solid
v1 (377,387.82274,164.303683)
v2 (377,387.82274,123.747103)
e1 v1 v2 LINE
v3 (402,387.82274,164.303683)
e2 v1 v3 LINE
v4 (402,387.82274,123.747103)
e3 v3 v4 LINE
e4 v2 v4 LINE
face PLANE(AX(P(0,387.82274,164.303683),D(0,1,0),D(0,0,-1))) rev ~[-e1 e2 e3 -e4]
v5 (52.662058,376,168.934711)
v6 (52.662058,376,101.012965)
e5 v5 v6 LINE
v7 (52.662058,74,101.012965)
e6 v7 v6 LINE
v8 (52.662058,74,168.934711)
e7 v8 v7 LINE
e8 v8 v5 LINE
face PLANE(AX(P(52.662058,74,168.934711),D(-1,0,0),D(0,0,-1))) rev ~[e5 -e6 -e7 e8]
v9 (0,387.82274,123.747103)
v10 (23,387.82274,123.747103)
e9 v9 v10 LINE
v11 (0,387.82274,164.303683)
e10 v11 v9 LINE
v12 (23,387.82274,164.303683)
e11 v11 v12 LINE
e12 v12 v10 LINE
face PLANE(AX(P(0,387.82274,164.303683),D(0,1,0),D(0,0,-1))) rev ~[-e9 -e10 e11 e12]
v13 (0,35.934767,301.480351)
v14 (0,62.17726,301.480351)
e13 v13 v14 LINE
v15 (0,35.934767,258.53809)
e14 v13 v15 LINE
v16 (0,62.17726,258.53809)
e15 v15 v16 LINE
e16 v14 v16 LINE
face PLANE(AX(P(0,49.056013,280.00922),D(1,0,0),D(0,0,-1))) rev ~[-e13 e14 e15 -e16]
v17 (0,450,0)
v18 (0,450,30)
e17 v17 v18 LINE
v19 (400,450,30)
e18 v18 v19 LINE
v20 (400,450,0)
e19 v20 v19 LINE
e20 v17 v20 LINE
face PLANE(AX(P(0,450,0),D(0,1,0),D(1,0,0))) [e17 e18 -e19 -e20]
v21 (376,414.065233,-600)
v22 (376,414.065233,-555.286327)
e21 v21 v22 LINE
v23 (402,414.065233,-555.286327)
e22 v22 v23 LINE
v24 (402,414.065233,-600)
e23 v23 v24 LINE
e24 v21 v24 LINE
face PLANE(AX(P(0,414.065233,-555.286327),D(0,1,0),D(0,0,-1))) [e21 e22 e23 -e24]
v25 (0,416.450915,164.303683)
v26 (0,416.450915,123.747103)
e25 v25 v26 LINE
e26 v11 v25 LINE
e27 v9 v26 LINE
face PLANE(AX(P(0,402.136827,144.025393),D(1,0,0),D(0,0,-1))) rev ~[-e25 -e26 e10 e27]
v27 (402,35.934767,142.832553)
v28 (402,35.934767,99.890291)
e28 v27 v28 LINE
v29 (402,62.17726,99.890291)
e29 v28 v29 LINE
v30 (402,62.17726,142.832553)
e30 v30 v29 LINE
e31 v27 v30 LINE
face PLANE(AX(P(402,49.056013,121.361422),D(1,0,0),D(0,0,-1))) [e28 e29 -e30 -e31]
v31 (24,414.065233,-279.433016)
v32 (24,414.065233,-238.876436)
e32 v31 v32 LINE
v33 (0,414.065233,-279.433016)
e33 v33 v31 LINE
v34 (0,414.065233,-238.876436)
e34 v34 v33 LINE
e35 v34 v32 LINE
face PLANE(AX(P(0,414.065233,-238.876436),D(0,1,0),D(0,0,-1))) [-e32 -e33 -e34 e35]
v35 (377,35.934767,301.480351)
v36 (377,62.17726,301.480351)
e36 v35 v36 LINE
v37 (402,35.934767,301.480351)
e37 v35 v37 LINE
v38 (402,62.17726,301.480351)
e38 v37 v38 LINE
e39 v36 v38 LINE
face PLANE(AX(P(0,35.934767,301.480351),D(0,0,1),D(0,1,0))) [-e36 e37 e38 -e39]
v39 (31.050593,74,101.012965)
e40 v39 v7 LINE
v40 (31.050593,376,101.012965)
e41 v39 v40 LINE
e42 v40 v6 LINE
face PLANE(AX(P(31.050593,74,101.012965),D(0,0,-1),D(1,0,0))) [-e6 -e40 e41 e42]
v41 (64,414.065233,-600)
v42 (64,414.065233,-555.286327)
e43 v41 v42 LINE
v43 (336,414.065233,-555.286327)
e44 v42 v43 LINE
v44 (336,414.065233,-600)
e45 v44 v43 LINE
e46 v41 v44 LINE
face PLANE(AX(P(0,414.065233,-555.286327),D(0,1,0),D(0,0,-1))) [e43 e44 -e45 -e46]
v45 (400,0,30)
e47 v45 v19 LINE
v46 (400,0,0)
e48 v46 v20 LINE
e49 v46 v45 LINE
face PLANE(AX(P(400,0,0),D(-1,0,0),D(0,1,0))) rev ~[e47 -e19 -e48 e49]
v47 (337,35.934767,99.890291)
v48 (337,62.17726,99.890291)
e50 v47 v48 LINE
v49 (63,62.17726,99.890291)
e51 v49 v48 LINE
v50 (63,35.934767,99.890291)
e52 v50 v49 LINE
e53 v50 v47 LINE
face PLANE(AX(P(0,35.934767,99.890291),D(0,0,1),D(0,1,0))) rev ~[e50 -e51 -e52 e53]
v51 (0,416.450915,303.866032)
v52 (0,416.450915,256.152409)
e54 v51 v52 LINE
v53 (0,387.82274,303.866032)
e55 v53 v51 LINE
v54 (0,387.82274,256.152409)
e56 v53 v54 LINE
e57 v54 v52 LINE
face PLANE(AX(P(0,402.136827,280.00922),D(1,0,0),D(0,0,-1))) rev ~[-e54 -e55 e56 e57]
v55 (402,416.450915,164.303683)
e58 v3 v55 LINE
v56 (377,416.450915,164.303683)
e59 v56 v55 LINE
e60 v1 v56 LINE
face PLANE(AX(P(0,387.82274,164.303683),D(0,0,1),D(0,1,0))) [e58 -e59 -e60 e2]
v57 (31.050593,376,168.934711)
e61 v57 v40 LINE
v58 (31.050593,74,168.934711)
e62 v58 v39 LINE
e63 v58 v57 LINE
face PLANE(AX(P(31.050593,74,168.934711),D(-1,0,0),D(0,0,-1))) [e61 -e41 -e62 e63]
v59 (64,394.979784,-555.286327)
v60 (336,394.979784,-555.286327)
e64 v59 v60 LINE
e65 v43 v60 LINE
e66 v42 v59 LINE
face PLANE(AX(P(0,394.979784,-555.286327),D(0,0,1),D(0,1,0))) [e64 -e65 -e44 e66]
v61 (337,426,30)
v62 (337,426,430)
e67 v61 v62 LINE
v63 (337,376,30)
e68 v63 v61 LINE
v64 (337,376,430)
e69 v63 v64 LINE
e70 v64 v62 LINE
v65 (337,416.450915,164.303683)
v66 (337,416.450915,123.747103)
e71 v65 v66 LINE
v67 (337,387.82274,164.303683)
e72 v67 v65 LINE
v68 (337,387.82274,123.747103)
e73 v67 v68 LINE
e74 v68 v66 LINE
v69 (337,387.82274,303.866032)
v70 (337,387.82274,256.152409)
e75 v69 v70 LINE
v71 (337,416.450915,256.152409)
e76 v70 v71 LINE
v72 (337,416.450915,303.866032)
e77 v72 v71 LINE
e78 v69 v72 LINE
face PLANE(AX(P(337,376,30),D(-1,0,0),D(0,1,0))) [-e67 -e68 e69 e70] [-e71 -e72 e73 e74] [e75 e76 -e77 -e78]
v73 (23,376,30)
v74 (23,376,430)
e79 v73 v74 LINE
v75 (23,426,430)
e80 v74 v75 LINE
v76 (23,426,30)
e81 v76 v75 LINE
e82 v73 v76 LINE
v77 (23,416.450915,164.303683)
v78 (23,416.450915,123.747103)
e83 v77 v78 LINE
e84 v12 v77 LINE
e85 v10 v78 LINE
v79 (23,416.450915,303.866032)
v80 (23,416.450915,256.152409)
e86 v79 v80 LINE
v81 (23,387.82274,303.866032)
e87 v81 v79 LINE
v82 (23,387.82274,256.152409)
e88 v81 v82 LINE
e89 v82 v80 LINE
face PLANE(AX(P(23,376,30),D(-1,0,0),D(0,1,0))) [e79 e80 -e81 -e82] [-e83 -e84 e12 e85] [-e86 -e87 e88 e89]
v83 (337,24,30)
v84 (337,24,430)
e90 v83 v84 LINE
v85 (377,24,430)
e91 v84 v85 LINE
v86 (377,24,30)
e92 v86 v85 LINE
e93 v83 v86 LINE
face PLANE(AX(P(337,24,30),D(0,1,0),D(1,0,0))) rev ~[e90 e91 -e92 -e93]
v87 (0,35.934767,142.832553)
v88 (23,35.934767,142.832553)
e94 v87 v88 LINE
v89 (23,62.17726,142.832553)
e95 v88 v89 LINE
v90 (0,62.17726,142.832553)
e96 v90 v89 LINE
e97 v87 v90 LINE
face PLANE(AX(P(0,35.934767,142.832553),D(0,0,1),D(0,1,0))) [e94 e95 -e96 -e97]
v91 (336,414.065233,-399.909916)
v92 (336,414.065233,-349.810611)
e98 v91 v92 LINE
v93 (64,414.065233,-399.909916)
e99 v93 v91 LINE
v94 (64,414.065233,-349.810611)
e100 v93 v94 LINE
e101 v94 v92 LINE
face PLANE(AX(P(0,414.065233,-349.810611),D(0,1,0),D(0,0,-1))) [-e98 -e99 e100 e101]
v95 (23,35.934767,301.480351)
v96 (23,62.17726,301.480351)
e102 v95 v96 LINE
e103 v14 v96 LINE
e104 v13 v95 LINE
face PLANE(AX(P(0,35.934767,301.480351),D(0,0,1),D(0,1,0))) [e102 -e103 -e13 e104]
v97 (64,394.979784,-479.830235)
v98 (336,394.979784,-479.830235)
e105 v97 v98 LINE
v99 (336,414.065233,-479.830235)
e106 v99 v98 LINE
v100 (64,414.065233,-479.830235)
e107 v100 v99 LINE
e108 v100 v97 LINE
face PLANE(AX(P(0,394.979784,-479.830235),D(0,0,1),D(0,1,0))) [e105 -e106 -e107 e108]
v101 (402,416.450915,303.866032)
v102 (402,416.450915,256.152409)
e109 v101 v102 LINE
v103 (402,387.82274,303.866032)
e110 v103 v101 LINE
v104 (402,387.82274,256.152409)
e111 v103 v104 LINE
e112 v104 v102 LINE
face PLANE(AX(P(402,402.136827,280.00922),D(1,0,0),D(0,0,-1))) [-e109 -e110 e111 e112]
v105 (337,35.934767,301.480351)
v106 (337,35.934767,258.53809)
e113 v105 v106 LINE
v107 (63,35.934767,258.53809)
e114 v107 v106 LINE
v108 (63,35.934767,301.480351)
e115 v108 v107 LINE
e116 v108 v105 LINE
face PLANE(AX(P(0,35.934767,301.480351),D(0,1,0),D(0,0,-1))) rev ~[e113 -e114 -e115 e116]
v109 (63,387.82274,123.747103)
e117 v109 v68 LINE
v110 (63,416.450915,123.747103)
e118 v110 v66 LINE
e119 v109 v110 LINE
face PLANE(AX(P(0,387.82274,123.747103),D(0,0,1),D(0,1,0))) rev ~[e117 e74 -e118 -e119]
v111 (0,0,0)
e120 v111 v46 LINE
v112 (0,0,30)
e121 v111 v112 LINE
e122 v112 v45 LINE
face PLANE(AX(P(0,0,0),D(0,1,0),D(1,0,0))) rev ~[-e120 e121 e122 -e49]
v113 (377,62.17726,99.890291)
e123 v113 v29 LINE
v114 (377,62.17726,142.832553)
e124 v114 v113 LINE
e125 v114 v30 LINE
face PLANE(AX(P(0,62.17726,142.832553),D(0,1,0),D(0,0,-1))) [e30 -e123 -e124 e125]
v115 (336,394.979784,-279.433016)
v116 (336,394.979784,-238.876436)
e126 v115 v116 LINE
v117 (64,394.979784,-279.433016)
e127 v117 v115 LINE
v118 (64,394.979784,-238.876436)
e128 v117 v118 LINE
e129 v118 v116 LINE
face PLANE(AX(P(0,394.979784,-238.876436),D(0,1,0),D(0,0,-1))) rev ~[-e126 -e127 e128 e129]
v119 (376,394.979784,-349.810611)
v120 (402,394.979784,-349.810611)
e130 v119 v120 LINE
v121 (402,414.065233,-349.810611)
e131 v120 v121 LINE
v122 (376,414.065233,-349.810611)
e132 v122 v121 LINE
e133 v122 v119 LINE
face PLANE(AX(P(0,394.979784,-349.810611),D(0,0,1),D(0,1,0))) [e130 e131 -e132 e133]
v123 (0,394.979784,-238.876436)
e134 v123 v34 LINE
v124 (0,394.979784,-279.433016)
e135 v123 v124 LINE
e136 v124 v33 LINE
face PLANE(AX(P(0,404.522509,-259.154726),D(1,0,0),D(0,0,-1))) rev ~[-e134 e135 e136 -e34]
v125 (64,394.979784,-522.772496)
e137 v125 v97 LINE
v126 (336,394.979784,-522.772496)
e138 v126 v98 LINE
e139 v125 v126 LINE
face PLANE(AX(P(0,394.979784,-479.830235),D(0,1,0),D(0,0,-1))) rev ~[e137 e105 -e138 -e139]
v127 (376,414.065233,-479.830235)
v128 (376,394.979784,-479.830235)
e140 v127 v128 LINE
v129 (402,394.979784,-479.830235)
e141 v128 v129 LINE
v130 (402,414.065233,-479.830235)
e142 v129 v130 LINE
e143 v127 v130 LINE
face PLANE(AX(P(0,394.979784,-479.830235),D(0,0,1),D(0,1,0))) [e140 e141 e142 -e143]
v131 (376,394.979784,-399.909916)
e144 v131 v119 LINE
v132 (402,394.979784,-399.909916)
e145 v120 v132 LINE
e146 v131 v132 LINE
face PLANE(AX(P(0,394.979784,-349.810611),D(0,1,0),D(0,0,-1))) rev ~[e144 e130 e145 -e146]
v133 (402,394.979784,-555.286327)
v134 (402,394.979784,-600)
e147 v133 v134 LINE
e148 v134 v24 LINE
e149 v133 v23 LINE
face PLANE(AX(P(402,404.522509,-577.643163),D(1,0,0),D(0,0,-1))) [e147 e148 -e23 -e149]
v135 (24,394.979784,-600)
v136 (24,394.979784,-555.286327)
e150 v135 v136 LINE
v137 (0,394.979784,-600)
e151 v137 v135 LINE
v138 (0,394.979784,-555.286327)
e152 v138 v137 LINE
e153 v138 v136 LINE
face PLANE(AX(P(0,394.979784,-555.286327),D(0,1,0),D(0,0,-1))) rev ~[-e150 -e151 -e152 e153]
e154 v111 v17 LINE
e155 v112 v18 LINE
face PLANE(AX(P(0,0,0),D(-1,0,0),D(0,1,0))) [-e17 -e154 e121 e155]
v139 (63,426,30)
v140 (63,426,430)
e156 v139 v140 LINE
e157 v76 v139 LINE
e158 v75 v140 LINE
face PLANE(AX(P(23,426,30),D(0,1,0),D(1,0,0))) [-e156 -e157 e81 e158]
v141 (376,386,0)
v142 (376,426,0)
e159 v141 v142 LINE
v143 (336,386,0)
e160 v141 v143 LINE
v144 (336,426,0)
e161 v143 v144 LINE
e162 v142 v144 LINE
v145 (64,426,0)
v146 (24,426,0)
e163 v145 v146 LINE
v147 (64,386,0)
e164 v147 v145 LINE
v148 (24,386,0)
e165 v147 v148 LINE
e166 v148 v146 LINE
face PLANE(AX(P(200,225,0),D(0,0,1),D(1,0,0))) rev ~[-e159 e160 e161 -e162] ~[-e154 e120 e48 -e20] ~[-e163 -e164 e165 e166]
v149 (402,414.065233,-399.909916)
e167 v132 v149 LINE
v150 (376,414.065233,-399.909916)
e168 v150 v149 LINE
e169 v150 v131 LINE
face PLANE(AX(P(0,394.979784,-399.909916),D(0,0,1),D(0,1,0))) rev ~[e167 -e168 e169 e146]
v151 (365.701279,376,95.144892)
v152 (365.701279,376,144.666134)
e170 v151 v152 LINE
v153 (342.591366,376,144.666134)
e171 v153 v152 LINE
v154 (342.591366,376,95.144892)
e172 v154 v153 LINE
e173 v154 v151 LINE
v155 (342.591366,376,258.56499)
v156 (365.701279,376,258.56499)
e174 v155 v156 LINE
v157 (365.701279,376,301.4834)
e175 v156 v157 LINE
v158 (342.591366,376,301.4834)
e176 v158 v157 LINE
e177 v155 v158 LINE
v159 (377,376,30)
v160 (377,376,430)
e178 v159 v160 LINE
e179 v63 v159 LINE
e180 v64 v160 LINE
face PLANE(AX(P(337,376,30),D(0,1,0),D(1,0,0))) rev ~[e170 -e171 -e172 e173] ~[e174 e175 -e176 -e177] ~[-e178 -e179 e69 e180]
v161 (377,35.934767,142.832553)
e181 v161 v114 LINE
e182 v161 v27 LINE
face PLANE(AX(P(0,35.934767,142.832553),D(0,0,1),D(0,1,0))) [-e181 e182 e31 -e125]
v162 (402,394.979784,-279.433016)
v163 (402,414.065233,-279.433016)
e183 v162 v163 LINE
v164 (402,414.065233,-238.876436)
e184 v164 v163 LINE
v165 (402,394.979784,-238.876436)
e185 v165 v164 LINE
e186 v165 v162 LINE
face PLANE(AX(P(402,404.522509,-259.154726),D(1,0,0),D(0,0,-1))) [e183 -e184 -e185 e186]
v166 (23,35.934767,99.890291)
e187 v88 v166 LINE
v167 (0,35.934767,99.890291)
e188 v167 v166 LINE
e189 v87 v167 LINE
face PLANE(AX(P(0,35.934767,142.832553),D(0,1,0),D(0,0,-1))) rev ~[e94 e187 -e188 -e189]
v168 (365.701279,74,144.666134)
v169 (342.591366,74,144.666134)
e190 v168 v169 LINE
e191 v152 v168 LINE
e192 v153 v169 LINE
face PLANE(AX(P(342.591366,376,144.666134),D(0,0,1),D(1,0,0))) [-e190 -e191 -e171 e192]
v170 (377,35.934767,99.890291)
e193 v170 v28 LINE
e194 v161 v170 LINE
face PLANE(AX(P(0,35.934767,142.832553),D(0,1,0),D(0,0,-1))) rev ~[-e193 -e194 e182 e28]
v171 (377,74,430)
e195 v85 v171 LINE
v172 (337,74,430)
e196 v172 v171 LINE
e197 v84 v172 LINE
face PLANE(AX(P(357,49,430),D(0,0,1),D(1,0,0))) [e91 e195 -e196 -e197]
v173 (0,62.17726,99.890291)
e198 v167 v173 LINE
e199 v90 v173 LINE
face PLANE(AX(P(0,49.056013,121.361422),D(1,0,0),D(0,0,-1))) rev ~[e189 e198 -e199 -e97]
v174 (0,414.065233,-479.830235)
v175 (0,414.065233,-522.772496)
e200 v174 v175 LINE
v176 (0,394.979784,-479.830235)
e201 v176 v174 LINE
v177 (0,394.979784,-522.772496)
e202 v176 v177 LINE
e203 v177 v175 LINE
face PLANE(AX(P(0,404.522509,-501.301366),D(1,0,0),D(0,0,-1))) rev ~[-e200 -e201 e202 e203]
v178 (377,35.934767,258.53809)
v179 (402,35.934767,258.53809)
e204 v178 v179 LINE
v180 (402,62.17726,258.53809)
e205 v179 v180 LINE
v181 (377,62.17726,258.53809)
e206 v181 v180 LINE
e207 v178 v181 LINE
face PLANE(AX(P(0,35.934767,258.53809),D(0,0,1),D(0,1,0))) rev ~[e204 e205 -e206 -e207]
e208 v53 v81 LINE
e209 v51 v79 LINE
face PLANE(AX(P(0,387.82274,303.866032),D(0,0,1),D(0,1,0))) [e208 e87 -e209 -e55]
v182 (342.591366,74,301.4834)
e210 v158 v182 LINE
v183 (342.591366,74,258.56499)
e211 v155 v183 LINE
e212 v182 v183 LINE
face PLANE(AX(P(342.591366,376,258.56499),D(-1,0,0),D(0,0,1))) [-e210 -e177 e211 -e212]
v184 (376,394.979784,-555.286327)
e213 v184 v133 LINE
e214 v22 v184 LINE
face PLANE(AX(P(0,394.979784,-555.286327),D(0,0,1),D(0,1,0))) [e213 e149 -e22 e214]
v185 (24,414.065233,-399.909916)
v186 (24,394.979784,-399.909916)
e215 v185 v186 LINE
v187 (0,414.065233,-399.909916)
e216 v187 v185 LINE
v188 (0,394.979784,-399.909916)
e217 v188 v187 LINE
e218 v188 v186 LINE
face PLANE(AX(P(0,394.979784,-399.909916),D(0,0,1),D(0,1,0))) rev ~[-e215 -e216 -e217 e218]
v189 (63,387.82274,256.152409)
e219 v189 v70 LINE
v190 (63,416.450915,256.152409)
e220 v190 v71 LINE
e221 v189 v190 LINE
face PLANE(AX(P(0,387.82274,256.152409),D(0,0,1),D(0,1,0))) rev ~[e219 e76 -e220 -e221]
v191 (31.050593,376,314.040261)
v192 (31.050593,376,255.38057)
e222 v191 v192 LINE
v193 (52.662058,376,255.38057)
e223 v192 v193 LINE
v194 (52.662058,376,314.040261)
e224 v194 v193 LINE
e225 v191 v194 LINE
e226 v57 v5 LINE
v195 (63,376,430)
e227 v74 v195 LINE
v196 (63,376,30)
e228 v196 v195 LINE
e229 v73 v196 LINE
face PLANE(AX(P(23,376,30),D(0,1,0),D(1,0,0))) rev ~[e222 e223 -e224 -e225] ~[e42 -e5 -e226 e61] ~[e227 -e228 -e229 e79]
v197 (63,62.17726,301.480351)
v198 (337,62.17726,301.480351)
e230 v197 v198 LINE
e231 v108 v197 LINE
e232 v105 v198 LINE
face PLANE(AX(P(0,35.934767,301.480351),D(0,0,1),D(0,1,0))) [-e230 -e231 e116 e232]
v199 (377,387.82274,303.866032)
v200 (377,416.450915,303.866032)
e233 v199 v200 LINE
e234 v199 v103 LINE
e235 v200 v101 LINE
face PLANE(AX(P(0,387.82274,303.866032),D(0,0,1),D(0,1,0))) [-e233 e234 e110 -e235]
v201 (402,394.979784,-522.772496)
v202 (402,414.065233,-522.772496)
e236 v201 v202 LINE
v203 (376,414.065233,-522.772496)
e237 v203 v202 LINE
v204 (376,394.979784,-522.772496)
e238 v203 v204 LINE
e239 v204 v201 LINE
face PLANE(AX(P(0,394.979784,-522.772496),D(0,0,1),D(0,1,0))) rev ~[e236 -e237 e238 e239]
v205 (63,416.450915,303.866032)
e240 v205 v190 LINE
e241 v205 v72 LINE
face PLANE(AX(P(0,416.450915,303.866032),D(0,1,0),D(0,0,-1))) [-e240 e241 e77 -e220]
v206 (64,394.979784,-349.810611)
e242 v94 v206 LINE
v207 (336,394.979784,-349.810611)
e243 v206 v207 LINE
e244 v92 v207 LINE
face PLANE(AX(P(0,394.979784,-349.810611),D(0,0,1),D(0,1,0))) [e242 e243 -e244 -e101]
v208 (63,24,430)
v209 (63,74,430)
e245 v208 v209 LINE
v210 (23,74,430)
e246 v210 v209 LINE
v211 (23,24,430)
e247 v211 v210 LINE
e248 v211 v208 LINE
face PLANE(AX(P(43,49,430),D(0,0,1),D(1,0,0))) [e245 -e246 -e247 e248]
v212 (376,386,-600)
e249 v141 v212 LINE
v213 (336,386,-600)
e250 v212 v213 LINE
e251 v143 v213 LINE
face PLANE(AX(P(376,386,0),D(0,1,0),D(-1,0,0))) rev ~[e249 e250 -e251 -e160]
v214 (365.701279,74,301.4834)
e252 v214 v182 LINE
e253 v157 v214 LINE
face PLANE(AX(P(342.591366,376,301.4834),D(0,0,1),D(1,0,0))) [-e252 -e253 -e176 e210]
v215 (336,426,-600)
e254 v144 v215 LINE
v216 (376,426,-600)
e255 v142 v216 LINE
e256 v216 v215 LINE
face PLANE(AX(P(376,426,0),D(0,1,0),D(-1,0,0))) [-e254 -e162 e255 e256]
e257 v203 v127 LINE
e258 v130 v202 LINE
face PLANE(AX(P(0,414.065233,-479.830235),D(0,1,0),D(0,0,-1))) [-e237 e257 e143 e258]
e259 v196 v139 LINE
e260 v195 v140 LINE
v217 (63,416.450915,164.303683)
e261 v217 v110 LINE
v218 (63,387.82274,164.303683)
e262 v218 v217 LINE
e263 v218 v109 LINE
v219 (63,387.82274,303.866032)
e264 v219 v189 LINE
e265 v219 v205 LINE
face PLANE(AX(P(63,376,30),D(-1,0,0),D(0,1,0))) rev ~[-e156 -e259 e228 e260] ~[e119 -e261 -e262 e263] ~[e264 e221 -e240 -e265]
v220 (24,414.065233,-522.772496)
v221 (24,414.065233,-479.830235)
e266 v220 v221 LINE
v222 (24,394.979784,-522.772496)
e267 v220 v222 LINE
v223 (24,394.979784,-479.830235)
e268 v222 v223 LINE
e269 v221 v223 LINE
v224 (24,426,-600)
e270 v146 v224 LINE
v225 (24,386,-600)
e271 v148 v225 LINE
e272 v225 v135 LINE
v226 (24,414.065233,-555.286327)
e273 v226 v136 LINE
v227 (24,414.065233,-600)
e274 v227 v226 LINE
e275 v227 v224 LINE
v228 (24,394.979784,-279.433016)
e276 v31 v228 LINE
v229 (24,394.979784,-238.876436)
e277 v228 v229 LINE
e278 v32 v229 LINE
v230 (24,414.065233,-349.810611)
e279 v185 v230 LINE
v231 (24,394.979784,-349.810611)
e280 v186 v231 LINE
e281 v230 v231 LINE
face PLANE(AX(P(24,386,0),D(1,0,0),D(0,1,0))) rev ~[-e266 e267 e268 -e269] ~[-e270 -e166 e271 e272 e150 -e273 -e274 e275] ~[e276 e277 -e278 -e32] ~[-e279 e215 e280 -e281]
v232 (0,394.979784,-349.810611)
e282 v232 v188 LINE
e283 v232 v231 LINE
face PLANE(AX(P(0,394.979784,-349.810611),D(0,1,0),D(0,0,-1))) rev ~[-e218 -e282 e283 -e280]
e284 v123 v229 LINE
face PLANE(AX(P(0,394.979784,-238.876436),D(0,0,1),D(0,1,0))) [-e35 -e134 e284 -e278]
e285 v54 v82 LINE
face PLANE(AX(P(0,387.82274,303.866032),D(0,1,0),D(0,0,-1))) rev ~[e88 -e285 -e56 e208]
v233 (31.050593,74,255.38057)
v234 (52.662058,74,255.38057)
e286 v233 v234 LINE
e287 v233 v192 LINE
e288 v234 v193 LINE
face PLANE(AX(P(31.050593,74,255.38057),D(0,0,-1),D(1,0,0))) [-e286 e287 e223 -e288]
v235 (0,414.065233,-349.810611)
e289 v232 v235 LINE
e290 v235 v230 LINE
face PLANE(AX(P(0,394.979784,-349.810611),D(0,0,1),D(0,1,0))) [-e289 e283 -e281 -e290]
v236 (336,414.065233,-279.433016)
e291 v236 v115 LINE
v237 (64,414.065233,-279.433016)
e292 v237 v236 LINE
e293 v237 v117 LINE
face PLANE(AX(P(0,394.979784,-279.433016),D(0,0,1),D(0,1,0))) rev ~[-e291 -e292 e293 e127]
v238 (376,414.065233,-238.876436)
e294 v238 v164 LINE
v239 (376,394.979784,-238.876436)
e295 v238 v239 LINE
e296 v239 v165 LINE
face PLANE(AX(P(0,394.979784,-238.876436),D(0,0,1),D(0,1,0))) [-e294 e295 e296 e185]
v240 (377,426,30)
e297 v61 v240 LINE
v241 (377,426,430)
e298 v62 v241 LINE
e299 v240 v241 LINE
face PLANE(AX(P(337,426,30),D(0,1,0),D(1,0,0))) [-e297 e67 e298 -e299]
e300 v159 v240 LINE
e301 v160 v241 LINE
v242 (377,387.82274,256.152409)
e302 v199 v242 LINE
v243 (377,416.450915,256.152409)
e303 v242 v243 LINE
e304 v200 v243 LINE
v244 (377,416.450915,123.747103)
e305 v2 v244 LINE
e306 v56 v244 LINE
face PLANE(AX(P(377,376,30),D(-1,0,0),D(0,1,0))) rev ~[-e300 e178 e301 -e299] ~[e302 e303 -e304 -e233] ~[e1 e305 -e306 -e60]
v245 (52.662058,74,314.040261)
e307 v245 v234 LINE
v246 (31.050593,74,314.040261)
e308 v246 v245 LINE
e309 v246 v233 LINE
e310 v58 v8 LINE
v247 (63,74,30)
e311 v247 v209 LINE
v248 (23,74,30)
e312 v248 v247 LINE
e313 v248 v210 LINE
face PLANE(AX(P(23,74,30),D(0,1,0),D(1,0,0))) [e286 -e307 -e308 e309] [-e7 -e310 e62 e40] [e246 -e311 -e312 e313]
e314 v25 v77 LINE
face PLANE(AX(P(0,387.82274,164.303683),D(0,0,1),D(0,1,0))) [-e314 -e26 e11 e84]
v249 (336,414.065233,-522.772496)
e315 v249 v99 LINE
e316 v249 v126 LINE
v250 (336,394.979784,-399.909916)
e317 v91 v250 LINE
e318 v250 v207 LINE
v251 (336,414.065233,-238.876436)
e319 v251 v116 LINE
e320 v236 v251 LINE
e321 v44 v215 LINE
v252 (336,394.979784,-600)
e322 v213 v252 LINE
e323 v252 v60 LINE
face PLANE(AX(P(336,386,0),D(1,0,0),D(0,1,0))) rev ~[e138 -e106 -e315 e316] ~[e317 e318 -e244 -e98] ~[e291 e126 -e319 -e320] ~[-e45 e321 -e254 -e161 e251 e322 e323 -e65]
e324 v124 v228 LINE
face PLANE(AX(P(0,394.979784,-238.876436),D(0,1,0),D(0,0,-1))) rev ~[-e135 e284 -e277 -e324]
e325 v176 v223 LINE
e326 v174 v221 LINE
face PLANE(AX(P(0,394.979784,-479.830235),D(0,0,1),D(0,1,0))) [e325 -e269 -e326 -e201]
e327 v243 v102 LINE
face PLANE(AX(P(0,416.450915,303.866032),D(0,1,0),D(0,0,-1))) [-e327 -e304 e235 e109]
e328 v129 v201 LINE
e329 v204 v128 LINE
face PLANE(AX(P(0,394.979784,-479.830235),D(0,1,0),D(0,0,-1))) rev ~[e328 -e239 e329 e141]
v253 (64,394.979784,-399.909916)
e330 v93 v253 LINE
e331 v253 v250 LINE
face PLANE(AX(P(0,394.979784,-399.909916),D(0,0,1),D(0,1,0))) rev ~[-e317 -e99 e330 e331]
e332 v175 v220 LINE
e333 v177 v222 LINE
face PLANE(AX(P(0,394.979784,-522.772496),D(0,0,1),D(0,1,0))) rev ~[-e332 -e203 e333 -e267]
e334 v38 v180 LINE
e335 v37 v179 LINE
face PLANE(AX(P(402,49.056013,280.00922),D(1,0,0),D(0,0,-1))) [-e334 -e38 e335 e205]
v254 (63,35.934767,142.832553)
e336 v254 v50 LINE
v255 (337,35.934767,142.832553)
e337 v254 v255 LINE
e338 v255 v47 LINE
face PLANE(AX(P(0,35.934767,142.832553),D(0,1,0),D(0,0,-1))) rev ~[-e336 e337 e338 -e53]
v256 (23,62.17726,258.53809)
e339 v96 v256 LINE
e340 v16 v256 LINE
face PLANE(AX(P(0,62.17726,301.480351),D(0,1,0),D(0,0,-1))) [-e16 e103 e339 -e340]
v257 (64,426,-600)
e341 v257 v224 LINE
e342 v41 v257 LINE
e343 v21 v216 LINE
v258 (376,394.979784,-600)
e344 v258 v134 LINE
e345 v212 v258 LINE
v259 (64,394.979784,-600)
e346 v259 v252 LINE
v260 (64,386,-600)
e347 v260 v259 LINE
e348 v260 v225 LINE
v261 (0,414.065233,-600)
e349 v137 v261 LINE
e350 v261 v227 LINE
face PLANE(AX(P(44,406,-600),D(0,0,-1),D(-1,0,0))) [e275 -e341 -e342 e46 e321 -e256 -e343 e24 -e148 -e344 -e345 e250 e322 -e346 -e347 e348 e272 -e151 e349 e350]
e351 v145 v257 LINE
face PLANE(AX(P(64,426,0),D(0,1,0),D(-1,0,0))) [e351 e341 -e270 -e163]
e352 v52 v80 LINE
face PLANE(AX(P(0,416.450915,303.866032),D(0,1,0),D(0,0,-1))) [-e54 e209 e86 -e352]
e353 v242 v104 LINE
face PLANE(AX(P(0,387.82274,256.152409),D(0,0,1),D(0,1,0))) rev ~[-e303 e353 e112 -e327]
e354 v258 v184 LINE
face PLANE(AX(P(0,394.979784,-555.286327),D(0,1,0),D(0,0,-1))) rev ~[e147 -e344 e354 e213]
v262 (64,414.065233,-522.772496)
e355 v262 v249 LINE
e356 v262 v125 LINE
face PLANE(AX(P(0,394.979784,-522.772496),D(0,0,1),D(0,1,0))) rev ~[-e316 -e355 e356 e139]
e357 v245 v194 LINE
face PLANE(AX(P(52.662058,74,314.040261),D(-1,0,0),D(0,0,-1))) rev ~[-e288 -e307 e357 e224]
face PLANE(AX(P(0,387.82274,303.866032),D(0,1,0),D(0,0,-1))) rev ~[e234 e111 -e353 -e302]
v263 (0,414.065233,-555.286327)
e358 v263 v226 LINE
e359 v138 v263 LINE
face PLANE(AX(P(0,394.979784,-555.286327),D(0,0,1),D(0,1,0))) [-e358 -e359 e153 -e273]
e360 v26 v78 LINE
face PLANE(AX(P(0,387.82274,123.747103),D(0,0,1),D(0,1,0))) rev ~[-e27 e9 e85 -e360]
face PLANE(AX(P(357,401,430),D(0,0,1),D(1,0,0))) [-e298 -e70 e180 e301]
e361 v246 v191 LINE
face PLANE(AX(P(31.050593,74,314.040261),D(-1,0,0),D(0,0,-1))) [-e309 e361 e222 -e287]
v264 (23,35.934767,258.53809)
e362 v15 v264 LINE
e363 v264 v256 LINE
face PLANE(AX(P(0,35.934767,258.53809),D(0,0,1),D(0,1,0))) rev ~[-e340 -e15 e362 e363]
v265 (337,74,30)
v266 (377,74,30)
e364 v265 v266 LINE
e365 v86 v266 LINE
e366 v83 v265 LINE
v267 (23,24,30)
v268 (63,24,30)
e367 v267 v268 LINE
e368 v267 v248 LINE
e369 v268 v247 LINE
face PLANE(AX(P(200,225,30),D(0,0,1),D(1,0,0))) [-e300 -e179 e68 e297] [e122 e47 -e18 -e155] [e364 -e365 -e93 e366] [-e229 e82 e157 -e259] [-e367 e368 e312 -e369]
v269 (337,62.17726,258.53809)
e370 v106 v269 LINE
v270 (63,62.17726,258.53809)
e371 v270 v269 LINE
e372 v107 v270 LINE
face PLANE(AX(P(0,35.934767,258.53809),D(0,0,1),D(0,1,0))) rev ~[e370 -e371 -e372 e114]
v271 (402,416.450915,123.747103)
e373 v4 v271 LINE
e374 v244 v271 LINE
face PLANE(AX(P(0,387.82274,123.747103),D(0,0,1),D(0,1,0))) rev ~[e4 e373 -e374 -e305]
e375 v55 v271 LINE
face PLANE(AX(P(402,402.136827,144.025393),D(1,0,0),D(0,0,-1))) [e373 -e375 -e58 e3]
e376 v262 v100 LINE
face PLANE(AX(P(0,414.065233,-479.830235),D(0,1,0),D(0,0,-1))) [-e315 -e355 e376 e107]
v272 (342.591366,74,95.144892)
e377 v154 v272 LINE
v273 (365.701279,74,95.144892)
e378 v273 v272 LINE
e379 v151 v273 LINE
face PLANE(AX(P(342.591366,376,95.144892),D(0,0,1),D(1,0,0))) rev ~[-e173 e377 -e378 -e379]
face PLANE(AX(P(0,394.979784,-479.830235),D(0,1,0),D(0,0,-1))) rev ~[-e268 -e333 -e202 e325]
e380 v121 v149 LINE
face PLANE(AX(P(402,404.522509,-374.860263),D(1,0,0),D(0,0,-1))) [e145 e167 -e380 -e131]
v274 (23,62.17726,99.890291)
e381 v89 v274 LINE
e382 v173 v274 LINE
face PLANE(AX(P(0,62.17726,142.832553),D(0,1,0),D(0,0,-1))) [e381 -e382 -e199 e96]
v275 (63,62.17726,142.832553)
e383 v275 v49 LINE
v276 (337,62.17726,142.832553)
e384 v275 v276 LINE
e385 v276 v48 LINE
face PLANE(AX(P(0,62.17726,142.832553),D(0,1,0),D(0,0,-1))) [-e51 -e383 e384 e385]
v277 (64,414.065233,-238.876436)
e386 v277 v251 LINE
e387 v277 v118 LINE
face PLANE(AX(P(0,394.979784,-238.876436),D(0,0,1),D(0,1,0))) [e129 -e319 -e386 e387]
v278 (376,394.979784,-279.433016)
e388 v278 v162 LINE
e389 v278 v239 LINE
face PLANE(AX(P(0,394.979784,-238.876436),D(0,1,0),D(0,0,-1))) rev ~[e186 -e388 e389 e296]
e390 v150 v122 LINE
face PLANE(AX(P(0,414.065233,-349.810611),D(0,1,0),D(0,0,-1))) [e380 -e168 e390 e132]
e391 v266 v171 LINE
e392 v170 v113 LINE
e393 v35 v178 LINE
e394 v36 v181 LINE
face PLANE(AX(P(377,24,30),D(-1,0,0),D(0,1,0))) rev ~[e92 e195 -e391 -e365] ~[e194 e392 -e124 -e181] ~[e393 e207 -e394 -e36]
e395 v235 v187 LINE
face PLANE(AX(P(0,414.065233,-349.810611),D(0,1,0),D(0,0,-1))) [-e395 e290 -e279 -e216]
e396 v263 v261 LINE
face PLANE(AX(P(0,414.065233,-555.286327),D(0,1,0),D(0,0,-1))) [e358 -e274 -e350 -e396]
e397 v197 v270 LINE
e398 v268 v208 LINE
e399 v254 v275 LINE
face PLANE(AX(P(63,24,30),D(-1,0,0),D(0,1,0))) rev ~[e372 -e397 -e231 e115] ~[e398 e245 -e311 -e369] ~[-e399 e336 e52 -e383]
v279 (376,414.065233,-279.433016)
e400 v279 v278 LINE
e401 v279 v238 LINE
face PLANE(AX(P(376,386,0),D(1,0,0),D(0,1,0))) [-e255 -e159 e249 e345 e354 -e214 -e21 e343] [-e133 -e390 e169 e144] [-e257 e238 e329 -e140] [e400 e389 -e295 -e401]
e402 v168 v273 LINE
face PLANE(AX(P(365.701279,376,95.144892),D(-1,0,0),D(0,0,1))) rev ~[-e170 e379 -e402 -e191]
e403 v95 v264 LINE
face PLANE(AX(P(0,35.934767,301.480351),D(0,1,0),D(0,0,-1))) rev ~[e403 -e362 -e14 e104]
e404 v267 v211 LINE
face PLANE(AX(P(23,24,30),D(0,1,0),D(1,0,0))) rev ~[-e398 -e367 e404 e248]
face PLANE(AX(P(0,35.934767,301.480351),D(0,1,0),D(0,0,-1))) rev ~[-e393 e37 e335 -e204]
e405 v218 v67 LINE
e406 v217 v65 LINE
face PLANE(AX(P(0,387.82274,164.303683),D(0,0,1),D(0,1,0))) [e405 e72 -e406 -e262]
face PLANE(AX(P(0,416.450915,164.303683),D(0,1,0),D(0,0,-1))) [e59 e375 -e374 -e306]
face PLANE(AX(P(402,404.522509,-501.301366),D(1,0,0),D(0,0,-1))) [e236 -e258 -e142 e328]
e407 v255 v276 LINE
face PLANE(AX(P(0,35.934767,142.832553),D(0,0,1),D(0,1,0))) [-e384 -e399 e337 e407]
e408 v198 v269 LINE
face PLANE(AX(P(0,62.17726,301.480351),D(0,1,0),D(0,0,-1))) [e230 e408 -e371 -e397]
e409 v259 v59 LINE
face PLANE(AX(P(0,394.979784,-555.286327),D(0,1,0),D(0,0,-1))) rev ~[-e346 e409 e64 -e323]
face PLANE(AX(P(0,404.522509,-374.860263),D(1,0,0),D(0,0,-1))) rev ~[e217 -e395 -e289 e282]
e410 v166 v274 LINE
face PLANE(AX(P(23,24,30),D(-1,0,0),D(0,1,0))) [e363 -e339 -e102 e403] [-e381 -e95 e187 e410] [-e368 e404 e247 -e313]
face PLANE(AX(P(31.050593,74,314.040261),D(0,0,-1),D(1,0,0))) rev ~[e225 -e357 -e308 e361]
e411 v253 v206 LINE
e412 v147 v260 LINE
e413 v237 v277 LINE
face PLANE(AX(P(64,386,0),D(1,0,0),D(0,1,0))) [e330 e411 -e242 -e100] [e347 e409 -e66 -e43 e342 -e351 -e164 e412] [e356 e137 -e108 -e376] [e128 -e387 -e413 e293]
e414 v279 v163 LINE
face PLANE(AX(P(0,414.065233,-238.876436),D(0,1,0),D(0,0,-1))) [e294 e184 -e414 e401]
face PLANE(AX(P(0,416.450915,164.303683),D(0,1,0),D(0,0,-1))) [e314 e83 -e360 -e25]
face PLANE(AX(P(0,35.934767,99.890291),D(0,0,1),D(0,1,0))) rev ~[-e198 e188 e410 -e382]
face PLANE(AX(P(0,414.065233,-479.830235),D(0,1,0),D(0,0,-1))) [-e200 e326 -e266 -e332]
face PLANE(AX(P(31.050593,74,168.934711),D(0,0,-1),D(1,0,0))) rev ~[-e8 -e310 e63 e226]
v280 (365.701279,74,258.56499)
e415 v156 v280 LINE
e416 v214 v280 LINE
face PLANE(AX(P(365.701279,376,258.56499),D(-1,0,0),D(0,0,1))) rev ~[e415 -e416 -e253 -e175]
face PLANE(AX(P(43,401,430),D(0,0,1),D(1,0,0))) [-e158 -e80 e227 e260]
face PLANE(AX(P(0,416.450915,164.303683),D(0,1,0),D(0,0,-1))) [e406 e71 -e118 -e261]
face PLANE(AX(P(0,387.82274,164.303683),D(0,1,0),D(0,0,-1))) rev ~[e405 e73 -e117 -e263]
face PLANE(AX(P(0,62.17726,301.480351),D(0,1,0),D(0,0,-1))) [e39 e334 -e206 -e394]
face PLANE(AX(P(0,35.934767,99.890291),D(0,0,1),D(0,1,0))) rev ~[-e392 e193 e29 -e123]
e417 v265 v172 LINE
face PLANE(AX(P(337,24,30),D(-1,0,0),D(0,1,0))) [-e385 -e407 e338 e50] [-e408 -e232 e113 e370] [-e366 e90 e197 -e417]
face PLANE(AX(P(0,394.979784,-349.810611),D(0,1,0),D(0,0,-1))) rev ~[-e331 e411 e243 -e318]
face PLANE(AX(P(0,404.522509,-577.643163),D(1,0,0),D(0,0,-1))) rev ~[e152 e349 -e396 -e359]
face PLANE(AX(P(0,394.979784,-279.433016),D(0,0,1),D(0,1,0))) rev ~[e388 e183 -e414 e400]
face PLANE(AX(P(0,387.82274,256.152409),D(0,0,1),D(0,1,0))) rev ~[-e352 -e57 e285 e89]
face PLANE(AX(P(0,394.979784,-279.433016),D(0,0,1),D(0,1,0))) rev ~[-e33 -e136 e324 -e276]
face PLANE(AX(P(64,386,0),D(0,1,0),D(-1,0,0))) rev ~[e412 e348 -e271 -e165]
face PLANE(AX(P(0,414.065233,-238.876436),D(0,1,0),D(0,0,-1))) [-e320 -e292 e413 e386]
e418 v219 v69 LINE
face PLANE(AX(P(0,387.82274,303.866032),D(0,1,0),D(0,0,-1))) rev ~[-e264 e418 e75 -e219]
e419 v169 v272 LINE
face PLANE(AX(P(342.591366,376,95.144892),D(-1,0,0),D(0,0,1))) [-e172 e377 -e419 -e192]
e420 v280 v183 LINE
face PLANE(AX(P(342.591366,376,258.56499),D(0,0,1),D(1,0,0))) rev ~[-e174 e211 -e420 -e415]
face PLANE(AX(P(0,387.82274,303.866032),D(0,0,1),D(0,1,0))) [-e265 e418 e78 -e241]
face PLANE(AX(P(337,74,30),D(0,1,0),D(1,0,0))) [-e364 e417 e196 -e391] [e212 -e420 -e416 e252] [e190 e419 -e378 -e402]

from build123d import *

# Parameters (mm, degrees)
SKETCH2_W                       = 400
SKETCH2_H                       = 450
BOSS_EXTRUDE1_DEPTH             = 30
SKETCH3_W                       = 40
SKETCH3_H                       = 50
BOSS_EXTRUDE2_DEPTH             = 400
SKETCH4_W                       = 40
SKETCH4_H                       = 40
BOSS_EXTRUDE3_DEPTH             = 600
SKETCH5_W                       = 40.556580032
SKETCH5_H                       = 28.62817414
SKETCH5_W_2                     = 47.713623567
BOSS_EXTRUDE4_DEPTH             = 402
SKETCH6_W                       = 42.94226121
SKETCH6_H                       = 26.242492962
SKETCH6_W_2                     = 42.942261211
BOSS_EXTRUDE5_DEPTH             = 402
SKETCH7_W                       = 40.556580032
SKETCH7_H                       = 19.085449427
SKETCH7_W_2                     = 50.099304746
SKETCH7_W_3                     = 42.94226121
SKETCH7_W_4                     = 44.71367334
BOSS_EXTRUDE6_DEPTH             = 402
BOSS_EXTRUDE7_REACH             = 816.236
SKETCH8_W                       = 21.611464792
SKETCH8_H                       = 67.92174649
SKETCH8_H_2                     = 58.65969015
BOSS_EXTRUDE7_DIRECTION_2_DEPTH = 2
BOSS_EXTRUDE8_REACH             = 816.236
SKETCH9_W                       = 23.109912939
SKETCH9_H                       = 42.918409744
SKETCH9_H_2                     = 49.521242012


with BuildPart() as part:
    # Sketch2 → Boss-Extrude1 (new body)
    with BuildSketch(Plane.XY):
        with Locations((200, 225)):
            Rectangle(SKETCH2_W, SKETCH2_H)
    extrude(amount=BOSS_EXTRUDE1_DEPTH)

    # Sketch3 → Boss-Extrude2 (add)
    with BuildSketch(Plane.XY.offset(30)):
        with Locations((43, 401)):
            Rectangle(SKETCH3_W, SKETCH3_H)
        with Locations((357, 401)):
            Rectangle(SKETCH3_W, SKETCH3_H)
        with Locations((357, 49)):
            Rectangle(SKETCH3_W, SKETCH3_H)
        with Locations((43, 49)):
            Rectangle(SKETCH3_W, SKETCH3_H)
    extrude(amount=BOSS_EXTRUDE2_DEPTH)

    # Sketch4 → Boss-Extrude3 (add)
    with BuildSketch(Plane(origin=(0, 0, 0), x_dir=(-1, 0, 0), z_dir=(0, 0, -1))):
        with Locations((-356, 406)):
            Rectangle(SKETCH4_W, SKETCH4_H)
        with Locations((-44, 406)):
            Rectangle(SKETCH4_W, SKETCH4_H)
    extrude(amount=BOSS_EXTRUDE3_DEPTH)

    # Sketch5 → Boss-Extrude4 (add)
    with BuildSketch(Plane(origin=(0, 0, 0), x_dir=(0, 0, -1), z_dir=(1, 0, 0))):
        with Locations((-144.025393122, 402.136827493)):
            Rectangle(SKETCH5_W, SKETCH5_H)
        with Locations((-280.009220289, 402.136827493)):
            Rectangle(SKETCH5_W_2, SKETCH5_H)
    extrude(amount=BOSS_EXTRUDE4_DEPTH)

    # Sketch6 → Boss-Extrude5 (add)
    with BuildSketch(Plane(origin=(0, 0, 0), x_dir=(0, 0, -1), z_dir=(1, 0, 0))):
        with Locations((-280.009220288, 49.056013096)):
            Rectangle(SKETCH6_W, SKETCH6_H)
        with Locations((-121.361421928, 49.056013096)):
            Rectangle(SKETCH6_W_2, SKETCH6_H)
    extrude(amount=BOSS_EXTRUDE5_DEPTH)

    # Sketch7 → Boss-Extrude6 (add)
    with BuildSketch(Plane(origin=(0, 0, 0), x_dir=(0, 0, -1), z_dir=(1, 0, 0))):
        with Locations((259.15472602, 404.522508672)):
            Rectangle(SKETCH7_W, SKETCH7_H)
        with Locations((374.86026317, 404.522508672)):
            Rectangle(SKETCH7_W_2, SKETCH7_H)
        with Locations((501.301365623, 404.522508672)):
            Rectangle(SKETCH7_W_3, SKETCH7_H)
        with Locations((577.64316333, 404.522508672)):
            Rectangle(SKETCH7_W_4, SKETCH7_H)
    extrude(amount=BOSS_EXTRUDE6_DEPTH)

    # Sketch8 → Boss-Extrude7 (add, up to next)
    with BuildSketch(Plane(origin=(0, 74, 0), x_dir=(1, 0, 0), z_dir=(0, 1, 0)), mode=Mode.PRIVATE) as boss_extrude7_sk1:
        with Locations((41.856325516, -134.973838063)):
            Rectangle(SKETCH8_W, SKETCH8_H)
    boss_extrude7_tool1 = extrude(boss_extrude7_sk1.sketch, amount=BOSS_EXTRUDE7_REACH, mode=Mode.PRIVATE) - part.part
    # Sketch8 → Boss-Extrude7 (add, up to next)
    with BuildSketch(Plane(origin=(0, 74, 0), x_dir=(1, 0, 0), z_dir=(0, 1, 0)), mode=Mode.PRIVATE) as boss_extrude7_sk2:
        with Locations((41.856325516, -284.710415551)):
            Rectangle(SKETCH8_W, SKETCH8_H_2)
    boss_extrude7_tool2 = extrude(boss_extrude7_sk2.sketch, amount=BOSS_EXTRUDE7_REACH, mode=Mode.PRIVATE) - part.part
    add(boss_extrude7_tool1.solids().sort_by_distance((41.856326, 74, 134.973838))[0])
    add(boss_extrude7_tool2.solids().sort_by_distance((41.856326, 74, 284.710416))[0])

    # Sketch8 → Boss-Extrude7 direction 2 (add)
    with BuildSketch(Plane(origin=(0, 74, 0), x_dir=(1, 0, 0), z_dir=(0, 1, 0))):
        with Locations((41.856325516, -134.973838063)):
            Rectangle(SKETCH8_W, SKETCH8_H)
        with Locations((41.856325516, -284.710415551)):
            Rectangle(SKETCH8_W, SKETCH8_H_2)
    extrude(amount=-BOSS_EXTRUDE7_DIRECTION_2_DEPTH)

    # Sketch9 → Boss-Extrude8 (add, up to next)
    with BuildSketch(Plane.XZ.offset(-376), mode=Mode.PRIVATE) as boss_extrude8_sk1:
        with Locations((354.146322372, 280.024195097)):
            Rectangle(SKETCH9_W, SKETCH9_H)
    boss_extrude8_tool1 = extrude(boss_extrude8_sk1.sketch, amount=BOSS_EXTRUDE8_REACH, mode=Mode.PRIVATE) - part.part
    # Sketch9 → Boss-Extrude8 (add, up to next)
    with BuildSketch(Plane.XZ.offset(-376), mode=Mode.PRIVATE) as boss_extrude8_sk2:
        with Locations((354.146322372, 119.905512592)):
            Rectangle(SKETCH9_W, SKETCH9_H_2)
    boss_extrude8_tool2 = extrude(boss_extrude8_sk2.sketch, amount=BOSS_EXTRUDE8_REACH, mode=Mode.PRIVATE) - part.part
    add(boss_extrude8_tool1.solids().sort_by_distance((354.146322, 376, 280.024195))[0])
    add(boss_extrude8_tool2.solids().sort_by_distance((354.146322, 376, 119.905513))[0])


solid = part.part
